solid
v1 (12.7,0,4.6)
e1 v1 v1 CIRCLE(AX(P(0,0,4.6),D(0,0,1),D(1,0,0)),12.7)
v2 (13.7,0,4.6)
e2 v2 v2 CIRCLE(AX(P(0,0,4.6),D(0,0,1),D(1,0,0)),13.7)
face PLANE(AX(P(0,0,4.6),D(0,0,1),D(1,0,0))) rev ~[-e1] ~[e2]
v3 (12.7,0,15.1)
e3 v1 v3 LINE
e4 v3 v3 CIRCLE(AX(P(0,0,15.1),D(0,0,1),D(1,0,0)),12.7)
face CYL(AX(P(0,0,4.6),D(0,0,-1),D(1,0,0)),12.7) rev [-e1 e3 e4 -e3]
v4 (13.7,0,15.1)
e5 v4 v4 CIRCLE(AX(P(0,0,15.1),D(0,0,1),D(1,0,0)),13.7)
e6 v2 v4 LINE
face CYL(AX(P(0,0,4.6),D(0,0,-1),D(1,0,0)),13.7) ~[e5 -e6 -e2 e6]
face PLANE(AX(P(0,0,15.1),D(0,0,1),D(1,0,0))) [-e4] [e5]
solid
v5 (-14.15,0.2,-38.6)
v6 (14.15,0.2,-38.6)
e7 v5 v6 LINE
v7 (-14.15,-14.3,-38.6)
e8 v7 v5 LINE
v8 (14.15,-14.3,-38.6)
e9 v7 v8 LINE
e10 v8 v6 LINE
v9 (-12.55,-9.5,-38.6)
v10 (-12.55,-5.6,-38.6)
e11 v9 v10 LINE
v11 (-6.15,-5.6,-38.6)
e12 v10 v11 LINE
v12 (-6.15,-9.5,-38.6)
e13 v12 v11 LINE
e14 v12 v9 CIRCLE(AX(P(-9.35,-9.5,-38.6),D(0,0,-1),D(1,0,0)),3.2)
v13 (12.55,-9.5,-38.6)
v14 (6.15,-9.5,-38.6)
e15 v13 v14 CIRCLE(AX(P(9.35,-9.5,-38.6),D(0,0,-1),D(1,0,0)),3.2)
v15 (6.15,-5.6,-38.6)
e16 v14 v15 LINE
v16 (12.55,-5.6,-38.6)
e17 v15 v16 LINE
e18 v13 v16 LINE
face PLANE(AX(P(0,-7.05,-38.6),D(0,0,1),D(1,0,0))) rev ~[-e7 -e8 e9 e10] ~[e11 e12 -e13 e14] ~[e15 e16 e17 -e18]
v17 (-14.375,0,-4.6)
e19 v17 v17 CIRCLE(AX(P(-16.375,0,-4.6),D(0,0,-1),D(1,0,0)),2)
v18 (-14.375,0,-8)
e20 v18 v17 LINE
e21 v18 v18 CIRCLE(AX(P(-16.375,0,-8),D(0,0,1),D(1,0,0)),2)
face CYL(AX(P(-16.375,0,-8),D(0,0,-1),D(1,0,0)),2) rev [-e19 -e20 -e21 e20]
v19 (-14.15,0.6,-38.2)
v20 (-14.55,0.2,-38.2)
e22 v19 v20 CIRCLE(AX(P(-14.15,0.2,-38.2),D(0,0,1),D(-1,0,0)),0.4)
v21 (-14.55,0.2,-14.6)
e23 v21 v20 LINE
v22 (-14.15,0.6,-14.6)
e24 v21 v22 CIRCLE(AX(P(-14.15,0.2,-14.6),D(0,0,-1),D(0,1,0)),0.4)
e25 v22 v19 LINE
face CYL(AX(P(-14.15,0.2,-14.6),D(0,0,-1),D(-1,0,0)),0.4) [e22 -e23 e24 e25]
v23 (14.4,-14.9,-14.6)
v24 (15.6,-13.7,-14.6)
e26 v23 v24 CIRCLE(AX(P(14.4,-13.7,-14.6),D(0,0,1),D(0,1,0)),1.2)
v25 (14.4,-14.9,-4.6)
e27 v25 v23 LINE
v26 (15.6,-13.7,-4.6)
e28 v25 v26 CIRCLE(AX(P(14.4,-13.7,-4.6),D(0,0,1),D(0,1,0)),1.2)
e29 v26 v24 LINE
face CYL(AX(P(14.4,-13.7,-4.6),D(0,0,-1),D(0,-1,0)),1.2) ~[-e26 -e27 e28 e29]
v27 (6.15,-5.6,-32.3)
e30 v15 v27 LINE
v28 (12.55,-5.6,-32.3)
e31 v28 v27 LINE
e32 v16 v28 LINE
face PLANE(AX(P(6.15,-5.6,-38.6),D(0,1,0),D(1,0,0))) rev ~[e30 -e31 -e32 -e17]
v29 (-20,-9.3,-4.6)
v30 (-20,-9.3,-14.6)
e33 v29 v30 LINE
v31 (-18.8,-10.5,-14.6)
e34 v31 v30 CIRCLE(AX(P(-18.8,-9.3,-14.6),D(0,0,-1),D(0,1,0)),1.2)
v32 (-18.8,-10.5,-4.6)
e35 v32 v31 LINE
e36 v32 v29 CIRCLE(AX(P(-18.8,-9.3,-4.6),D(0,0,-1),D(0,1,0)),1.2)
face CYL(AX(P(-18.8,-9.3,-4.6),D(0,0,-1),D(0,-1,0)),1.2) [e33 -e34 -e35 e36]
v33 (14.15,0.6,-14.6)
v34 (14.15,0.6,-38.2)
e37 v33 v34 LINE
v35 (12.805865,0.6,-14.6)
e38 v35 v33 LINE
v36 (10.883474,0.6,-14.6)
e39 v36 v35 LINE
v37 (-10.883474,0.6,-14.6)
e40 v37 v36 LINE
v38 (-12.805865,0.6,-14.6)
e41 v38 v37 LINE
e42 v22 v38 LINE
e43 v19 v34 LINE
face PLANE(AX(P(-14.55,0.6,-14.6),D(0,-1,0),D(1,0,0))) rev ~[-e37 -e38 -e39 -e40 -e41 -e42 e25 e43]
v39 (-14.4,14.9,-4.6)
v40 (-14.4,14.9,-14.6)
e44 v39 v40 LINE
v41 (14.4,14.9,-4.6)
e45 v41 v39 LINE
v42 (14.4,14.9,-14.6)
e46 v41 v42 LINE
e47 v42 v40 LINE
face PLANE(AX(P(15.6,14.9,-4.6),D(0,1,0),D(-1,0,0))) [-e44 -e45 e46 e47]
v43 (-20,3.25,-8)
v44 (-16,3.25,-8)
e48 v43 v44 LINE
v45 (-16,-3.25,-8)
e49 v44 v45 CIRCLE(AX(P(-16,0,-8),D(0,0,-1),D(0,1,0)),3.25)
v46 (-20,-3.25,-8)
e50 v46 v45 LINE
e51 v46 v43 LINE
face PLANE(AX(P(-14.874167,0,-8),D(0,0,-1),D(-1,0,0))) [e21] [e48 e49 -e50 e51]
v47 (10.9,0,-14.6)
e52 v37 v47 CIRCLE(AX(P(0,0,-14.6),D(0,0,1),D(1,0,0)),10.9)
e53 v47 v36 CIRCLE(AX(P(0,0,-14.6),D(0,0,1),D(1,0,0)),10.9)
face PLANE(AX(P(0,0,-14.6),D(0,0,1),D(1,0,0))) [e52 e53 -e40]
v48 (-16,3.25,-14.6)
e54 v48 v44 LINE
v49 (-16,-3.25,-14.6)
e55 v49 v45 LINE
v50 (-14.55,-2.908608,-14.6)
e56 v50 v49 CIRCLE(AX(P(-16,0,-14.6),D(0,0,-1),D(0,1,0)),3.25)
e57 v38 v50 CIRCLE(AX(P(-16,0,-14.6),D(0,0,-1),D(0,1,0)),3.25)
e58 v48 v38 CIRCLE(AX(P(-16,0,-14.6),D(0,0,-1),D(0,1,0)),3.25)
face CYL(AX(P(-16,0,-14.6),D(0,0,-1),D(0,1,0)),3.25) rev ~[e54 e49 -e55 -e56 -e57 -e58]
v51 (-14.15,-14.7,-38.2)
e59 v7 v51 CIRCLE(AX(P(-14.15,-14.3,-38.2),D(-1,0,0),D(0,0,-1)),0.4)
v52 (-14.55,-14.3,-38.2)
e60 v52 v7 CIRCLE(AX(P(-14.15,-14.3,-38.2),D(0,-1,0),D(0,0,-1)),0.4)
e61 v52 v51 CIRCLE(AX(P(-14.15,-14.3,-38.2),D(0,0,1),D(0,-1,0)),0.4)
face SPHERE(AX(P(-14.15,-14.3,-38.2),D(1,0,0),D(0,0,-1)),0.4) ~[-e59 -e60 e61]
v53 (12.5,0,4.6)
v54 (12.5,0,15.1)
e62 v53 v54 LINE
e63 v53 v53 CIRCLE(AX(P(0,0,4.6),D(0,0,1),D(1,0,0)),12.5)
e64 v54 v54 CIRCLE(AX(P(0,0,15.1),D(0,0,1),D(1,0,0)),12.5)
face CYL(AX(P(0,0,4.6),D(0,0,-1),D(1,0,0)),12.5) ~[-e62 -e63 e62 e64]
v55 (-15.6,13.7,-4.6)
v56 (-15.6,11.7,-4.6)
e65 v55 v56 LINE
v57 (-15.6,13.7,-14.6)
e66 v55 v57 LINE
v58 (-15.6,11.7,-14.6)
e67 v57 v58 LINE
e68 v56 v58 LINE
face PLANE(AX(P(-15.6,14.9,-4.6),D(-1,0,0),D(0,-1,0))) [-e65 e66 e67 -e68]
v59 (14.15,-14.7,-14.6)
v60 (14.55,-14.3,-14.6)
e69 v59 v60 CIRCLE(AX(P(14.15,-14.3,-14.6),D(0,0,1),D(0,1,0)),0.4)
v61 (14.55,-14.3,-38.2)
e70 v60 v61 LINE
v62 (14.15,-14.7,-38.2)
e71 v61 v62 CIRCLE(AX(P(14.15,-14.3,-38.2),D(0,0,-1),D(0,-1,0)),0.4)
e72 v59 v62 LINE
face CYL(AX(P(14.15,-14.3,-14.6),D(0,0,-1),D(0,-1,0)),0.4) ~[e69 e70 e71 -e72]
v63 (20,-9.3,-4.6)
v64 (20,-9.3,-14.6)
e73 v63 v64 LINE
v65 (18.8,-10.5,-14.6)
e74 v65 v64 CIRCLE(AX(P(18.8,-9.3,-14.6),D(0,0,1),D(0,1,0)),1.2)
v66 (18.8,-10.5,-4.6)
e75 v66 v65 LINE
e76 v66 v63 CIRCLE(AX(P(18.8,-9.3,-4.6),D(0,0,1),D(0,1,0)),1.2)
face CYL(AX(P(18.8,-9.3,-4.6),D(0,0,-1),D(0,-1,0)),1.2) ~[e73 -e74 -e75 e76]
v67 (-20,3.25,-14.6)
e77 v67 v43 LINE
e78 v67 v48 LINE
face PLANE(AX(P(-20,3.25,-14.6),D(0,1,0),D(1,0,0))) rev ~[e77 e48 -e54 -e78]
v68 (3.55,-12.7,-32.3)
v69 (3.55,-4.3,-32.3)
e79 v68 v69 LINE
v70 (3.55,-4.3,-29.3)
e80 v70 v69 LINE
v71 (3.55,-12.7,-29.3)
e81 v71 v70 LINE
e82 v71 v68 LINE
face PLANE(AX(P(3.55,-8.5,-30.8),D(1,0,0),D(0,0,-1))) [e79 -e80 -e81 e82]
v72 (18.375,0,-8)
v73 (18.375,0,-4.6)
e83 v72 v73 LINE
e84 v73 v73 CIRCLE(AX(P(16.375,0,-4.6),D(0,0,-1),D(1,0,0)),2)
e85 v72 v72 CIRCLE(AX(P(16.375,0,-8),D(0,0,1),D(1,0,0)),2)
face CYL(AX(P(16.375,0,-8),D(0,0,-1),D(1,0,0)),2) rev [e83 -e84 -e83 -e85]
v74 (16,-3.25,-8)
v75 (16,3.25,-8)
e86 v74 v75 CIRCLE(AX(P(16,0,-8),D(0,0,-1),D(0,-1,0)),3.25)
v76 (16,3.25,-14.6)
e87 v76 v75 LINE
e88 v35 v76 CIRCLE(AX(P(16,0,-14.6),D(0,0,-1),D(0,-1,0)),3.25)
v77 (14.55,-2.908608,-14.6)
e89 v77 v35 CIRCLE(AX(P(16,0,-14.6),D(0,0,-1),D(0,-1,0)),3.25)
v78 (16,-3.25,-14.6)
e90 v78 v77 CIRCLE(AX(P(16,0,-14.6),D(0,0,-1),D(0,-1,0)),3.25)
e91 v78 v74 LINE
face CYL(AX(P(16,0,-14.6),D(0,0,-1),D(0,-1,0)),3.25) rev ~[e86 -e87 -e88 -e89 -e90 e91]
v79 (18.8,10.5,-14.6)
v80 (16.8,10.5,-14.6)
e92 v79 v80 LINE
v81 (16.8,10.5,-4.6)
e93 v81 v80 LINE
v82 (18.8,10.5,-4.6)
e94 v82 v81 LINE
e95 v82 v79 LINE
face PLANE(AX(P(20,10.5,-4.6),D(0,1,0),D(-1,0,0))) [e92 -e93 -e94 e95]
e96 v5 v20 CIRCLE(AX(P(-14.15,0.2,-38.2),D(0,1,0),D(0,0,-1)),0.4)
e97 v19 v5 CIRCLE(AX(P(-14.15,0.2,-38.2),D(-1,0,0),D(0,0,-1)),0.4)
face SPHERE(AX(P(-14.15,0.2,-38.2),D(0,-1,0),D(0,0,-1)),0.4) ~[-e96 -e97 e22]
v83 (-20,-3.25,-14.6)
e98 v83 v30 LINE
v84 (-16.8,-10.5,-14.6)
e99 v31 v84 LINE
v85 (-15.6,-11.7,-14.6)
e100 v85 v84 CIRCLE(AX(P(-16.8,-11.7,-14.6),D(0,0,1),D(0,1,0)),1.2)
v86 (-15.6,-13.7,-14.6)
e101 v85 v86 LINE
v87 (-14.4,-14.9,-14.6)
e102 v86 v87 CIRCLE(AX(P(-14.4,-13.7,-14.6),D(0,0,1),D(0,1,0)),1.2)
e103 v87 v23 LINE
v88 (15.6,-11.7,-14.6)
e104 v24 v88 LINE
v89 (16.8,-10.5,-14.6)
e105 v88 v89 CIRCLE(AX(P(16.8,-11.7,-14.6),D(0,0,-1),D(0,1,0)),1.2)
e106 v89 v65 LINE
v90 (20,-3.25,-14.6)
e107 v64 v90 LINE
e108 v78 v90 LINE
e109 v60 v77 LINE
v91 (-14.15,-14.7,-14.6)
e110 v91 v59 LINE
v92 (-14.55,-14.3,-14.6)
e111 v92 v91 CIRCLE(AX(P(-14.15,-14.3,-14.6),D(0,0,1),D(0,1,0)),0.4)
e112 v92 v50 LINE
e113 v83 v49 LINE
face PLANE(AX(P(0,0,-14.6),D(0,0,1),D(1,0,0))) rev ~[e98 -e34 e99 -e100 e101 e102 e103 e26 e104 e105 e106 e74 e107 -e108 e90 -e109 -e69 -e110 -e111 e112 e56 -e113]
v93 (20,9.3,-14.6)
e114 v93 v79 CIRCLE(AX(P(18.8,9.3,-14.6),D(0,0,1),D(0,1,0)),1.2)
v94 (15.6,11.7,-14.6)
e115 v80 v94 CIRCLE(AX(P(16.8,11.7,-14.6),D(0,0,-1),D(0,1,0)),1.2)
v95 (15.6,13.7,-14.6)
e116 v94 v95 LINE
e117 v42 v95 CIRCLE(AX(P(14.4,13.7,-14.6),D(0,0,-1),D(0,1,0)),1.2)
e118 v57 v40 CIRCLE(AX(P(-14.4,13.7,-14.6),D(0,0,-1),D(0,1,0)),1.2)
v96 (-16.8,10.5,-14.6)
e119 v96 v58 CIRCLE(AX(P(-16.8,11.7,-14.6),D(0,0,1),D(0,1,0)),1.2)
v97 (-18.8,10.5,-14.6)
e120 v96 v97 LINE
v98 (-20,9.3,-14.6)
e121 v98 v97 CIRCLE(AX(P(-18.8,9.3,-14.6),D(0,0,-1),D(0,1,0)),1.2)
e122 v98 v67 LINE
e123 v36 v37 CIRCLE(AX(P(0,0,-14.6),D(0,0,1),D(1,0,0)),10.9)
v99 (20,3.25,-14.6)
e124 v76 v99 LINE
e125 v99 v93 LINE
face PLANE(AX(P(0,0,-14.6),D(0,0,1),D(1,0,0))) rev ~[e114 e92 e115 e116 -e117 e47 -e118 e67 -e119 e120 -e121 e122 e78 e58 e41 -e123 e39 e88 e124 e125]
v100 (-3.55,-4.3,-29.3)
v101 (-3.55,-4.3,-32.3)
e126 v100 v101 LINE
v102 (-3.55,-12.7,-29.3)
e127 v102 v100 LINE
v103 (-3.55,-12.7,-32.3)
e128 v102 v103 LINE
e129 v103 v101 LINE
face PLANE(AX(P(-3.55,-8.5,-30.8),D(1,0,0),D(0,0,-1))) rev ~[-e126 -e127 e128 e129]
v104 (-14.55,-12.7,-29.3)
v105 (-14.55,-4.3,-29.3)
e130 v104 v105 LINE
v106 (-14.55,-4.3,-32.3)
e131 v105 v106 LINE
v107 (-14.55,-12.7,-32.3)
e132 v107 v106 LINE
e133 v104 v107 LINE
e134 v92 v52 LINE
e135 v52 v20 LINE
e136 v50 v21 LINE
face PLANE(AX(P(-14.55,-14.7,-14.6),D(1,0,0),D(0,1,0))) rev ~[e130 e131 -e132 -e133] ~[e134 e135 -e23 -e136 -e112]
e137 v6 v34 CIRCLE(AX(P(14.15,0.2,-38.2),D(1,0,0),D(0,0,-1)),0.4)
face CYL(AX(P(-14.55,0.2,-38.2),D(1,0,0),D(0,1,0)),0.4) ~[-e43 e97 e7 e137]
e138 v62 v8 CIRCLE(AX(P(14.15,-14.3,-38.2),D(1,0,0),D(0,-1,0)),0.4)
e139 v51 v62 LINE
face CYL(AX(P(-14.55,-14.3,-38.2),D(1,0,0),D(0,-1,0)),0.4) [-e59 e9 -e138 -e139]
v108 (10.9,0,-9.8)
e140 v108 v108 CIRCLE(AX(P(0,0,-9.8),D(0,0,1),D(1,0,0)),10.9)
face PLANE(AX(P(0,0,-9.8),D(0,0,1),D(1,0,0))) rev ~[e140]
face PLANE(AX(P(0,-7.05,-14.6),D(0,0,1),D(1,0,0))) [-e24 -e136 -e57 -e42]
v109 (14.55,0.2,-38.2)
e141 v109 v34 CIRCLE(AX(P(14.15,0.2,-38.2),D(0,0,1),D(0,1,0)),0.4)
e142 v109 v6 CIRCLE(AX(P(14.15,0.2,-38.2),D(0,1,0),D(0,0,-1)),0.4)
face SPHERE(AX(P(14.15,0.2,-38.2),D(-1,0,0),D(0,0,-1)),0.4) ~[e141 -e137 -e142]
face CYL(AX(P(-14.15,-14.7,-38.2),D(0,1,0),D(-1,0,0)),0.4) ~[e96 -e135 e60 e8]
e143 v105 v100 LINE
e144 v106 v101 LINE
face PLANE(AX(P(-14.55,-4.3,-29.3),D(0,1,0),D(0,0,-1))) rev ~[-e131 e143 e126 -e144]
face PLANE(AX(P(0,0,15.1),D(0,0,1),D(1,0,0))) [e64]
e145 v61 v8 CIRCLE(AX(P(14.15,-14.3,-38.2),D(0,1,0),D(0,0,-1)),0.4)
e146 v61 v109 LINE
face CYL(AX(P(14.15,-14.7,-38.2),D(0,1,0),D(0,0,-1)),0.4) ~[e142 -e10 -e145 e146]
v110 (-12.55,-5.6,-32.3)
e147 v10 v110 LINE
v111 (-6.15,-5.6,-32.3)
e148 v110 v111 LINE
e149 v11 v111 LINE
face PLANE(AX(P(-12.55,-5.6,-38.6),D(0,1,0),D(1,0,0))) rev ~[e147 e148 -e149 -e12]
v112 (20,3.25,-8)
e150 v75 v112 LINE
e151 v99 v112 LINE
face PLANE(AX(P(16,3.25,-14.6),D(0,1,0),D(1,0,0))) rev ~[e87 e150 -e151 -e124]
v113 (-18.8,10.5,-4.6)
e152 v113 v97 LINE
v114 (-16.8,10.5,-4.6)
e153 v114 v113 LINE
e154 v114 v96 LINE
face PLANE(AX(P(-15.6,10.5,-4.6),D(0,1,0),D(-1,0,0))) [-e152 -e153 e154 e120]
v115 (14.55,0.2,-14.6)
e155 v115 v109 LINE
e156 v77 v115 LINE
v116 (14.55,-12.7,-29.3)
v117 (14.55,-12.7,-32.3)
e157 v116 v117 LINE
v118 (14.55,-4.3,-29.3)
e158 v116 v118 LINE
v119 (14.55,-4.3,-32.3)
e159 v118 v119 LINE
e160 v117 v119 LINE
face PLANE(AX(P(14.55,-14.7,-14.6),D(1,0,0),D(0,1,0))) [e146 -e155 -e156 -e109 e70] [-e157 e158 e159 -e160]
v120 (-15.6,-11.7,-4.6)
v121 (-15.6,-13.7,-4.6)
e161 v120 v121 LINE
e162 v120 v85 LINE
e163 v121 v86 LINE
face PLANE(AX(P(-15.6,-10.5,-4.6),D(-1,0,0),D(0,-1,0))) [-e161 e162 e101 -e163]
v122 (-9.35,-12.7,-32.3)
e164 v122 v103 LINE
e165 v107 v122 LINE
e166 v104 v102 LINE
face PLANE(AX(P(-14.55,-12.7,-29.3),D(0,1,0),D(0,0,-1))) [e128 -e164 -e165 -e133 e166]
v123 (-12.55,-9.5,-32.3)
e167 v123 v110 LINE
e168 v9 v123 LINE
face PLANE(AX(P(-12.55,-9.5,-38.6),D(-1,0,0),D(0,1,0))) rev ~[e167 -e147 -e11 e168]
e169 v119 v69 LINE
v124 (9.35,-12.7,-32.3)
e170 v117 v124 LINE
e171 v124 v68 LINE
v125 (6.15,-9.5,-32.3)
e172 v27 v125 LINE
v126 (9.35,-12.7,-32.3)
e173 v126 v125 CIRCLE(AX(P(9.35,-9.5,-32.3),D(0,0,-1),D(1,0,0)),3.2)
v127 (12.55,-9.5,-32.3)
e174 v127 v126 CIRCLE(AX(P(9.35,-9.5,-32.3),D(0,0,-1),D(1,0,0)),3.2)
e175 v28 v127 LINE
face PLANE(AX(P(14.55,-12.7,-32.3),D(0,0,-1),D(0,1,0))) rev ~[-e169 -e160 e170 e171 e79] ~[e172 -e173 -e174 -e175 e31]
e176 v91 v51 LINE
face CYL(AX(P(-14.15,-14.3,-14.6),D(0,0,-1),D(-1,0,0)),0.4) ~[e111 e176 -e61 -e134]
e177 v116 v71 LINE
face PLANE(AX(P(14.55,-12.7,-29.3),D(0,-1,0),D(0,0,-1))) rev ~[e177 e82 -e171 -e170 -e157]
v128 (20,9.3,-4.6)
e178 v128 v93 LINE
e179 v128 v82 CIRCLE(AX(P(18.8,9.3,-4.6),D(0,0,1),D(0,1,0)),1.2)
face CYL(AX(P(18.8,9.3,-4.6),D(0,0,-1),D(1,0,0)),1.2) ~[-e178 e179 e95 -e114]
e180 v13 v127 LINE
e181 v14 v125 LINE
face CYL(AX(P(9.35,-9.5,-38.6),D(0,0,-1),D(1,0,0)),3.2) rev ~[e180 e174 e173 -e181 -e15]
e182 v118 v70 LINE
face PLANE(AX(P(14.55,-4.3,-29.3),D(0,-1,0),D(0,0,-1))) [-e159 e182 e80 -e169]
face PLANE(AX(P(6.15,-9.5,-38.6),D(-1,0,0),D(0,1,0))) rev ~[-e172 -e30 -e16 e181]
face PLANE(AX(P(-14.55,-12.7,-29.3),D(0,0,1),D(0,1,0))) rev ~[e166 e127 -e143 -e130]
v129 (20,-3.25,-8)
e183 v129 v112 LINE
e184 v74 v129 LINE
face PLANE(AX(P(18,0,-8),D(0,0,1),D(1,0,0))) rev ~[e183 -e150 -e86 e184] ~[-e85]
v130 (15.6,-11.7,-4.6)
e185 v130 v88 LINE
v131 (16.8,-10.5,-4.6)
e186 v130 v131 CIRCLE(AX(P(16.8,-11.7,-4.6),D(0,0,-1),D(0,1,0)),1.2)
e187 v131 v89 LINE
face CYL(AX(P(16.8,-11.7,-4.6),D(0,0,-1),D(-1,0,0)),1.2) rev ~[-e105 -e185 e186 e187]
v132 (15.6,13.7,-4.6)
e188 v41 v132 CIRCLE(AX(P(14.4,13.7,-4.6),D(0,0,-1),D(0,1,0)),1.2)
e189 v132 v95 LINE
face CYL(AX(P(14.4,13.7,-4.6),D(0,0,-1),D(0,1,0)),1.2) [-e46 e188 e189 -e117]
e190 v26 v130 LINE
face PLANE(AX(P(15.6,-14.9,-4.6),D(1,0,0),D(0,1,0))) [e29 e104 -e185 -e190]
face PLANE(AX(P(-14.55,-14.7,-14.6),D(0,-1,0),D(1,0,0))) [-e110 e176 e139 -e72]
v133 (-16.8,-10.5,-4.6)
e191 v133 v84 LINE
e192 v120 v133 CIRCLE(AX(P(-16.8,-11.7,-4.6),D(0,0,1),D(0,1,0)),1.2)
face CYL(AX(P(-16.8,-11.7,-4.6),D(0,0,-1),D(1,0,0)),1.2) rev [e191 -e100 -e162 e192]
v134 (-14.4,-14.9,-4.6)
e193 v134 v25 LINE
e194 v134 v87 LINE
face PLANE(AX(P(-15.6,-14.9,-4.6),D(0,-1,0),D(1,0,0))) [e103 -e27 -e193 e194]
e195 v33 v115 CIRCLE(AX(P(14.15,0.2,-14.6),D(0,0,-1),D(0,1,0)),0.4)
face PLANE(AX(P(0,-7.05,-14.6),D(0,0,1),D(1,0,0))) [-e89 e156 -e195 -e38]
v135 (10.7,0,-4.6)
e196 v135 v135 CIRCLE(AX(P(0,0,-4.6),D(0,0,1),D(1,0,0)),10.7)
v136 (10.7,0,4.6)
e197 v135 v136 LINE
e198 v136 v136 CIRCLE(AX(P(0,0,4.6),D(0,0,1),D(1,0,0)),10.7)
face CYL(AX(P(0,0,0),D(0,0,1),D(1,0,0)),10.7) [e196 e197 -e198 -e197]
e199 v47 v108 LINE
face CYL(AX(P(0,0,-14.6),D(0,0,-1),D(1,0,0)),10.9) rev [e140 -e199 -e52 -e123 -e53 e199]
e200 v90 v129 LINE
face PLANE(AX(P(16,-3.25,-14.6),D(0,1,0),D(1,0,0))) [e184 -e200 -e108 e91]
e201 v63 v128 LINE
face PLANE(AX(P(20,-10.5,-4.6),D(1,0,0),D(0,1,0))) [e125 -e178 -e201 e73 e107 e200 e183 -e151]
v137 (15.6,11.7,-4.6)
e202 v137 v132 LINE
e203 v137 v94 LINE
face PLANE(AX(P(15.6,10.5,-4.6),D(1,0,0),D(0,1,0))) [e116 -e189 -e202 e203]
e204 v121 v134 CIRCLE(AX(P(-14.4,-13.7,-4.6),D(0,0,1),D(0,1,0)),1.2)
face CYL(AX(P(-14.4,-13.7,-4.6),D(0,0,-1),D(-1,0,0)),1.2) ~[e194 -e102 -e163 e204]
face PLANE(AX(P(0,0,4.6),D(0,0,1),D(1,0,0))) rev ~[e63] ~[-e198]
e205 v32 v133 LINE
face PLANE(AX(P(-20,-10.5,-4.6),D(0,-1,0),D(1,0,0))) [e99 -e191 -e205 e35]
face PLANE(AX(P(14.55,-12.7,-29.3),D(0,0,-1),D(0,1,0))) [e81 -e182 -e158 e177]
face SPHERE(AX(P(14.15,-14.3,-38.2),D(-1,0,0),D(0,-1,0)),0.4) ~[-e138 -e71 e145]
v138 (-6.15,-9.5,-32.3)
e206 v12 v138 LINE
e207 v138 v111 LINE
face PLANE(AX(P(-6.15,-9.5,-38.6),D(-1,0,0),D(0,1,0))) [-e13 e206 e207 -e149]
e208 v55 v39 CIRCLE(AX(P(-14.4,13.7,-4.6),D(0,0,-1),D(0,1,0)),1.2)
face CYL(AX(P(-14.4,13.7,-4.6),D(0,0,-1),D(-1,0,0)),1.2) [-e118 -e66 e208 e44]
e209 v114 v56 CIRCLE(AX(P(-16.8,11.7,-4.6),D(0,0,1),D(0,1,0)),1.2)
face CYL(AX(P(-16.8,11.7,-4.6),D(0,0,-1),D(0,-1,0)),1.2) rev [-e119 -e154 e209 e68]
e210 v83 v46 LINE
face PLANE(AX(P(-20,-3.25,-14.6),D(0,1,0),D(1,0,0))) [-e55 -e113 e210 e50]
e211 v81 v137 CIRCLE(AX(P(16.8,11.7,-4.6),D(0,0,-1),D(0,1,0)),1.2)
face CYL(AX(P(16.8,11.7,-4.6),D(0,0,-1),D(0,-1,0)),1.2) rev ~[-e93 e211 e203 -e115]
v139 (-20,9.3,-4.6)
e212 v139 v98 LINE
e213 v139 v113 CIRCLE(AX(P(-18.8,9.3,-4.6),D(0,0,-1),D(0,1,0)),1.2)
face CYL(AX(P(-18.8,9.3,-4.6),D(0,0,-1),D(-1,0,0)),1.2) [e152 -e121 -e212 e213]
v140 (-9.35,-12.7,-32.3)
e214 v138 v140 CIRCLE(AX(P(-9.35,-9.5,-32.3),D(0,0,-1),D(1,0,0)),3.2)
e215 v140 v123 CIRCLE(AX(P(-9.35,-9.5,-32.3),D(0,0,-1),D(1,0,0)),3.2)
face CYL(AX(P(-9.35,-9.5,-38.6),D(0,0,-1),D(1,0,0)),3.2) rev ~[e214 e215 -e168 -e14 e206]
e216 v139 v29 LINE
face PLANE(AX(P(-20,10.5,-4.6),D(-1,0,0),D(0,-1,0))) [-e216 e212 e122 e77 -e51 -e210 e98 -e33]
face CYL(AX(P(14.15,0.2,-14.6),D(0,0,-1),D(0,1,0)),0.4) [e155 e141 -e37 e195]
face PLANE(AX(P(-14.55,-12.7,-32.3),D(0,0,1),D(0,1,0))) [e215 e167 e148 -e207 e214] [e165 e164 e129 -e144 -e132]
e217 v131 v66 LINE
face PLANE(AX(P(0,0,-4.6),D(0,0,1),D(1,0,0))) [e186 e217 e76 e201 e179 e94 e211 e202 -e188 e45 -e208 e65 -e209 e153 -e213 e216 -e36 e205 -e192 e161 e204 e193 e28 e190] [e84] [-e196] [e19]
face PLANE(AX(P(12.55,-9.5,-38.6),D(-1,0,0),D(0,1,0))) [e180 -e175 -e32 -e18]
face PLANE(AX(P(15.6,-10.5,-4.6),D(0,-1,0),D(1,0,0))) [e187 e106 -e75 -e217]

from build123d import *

# Parameters (mm, degrees)
SKETCH1_R           = 10.7
BOSS_EXTRUDE1_DEPTH = 4.6
BOSS_EXTRUDE2_START = 4.6
SKETCH2_R           = 13.7
SKETCH2_R_2         = 12.7
BOSS_EXTRUDE2_DEPTH = 10.5
BOSS_EXTRUDE3_START = 4.6
SKETCH3_R           = 12.5
BOSS_EXTRUDE3_DEPTH = 10.5
BOSS_EXTRUDE4_START = -4.6
BOSS_EXTRUDE4_DEPTH = 10
FILLET1_R           = 1.2
CUT_EXTRUDE1_START  = -14.6
SKETCH5_W           = 4
SKETCH5_H           = 6.5
CUT_EXTRUDE1_DEPTH  = 6.6
CUT_EXTRUDE2_START  = -8
SKETCH6_R           = 2
CUT_EXTRUDE2_DEPTH  = 12.6
BOSS_EXTRUDE5_START = -14.6
SKETCH7_W           = 29.1
SKETCH7_H           = 15.3
BOSS_EXTRUDE5_DEPTH = 24
FILLET2_R           = 0.4
CUT_EXTRUDE3_START  = -14.6
SKETCH8_R           = 10.9
CUT_EXTRUDE3_DEPTH  = 4.8
CUT_EXTRUDE4_START  = -38.6
SKETCH9_W           = 6.4
SKETCH9_H           = 3.9
CUT_EXTRUDE4_DEPTH  = 9
CUT_EXTRUDE5_START  = -14.55
SKETCH10_W          = 3
SKETCH10_H          = 8.4
CUT_EXTRUDE5_DEPTH  = 11
CUT_EXTRUDE6_START  = 14.55
SKETCH11_W          = 3
SKETCH11_H          = 8.4
CUT_EXTRUDE6_DEPTH  = 11


with BuildPart() as part:
    # Sketch1 → Boss-Extrude1 (new body, symmetric)
    with BuildSketch(Plane.XY):
        Circle(SKETCH1_R)
    extrude(amount=BOSS_EXTRUDE1_DEPTH, both=True)

    # Sketch3 → Boss-Extrude3 (add)
    with BuildSketch(Plane.XY.offset(BOSS_EXTRUDE3_START)):
        Circle(SKETCH3_R)
    extrude(amount=BOSS_EXTRUDE3_DEPTH)

    # Sketch4 → Boss-Extrude4 (add)
    with BuildSketch(Plane.XY.offset(BOSS_EXTRUDE4_START)):
        Polygon((-15.6, -10.5), (-15.6, -14.9), (15.6, -14.9), (15.6, -10.5), (20, -10.5), (20, 10.5), (15.6, 10.5), (15.6, 14.9), (-15.6, 14.9), (-15.6, 10.5), (-20, 10.5), (-20, -10.5), align=None)
    extrude(amount=-BOSS_EXTRUDE4_DEPTH)

    # Fillet1
    fillet1_edges = [part.edges().sort_by_distance(p)[0] for p in [
        (15.6, 10.5, -9.6),
        (20, 10.5, -9.6),
        (20, -10.5, -9.6),
        (15.6, -10.5, -9.6),
        (15.6, -14.9, -9.6),
        (-15.6, -14.9, -9.6),
        (-15.6, -10.5, -9.6),
        (-20, -10.5, -9.6),
        (-20, 10.5, -9.6),
        (-15.6, 10.5, -9.6),
        (-15.6, 14.9, -9.6),
        (15.6, 14.9, -9.6),
    ]]
    fillet(fillet1_edges, radius=FILLET1_R)

    # Sketch5 → Cut-Extrude1 (cut)
    with BuildSketch(Plane.XY.offset(CUT_EXTRUDE1_START)):
        with Locations((18, 0)):
            Rectangle(SKETCH5_W, SKETCH5_H)
        with BuildLine():
            Line((16, 3.25), (16, -3.25))
            ThreePointArc((16, -3.25), (12.75, 0), (16, 3.25))
        make_face()
        with BuildLine():
            ThreePointArc((-16, 3.25), (-12.75, 0), (-16, -3.25))
            Line((-16, -3.25), (-16, 3.25))
        make_face()
        with Locations((-18, 0)):
            Rectangle(SKETCH5_W, SKETCH5_H)
    extrude(amount=CUT_EXTRUDE1_DEPTH, mode=Mode.SUBTRACT)

    # Sketch6 → Cut-Extrude2 (cut)
    with BuildSketch(Plane.XY.offset(CUT_EXTRUDE2_START)):
        with Locations((16.375, 0)):
            Circle(SKETCH6_R)
        with Locations((-16.375, 0)):
            Circle(SKETCH6_R)
    extrude(amount=CUT_EXTRUDE2_DEPTH, mode=Mode.SUBTRACT)

    # Sketch7 → Boss-Extrude5 (add)
    with BuildSketch(Plane.XY.offset(BOSS_EXTRUDE5_START)):
        with Locations((0, -7.05)):
            Rectangle(SKETCH7_W, SKETCH7_H)
    extrude(amount=-BOSS_EXTRUDE5_DEPTH)

    # Fillet2
    fillet2_edges = [part.edges().sort_by_distance(p)[0] for p in [
        (0, -14.7, -38.6),
        (14.55, -14.7, -26.6),
        (-14.55, -7.05, -38.6),
        (-14.55, -14.7, -26.6),
        (0, 0.6, -38.6),
        (-14.55, 0.6, -26.6),
        (14.55, -7.05, -38.6),
        (14.55, 0.6, -26.6),
    ]]
    fillet(fillet2_edges, radius=FILLET2_R)

    # Sketch8 → Cut-Extrude3 (cut)
    with BuildSketch(Plane.XY.offset(CUT_EXTRUDE3_START)):
        Circle(SKETCH8_R)
    extrude(amount=CUT_EXTRUDE3_DEPTH, mode=Mode.SUBTRACT)

    # Sketch9 → Cut-Extrude4 (cut)
    with BuildSketch(Plane.XY.offset(CUT_EXTRUDE4_START)):
        with Locations((9.35, -7.55)):
            Rectangle(SKETCH9_W, SKETCH9_H)
        with BuildLine():
            ThreePointArc((12.55, -9.5), (9.35, -12.7), (6.15, -9.5))
            Line((6.15, -9.5), (12.55, -9.5))
        make_face()
        with Locations((-9.35, -7.55)):
            Rectangle(SKETCH9_W, SKETCH9_H)
        with BuildLine():
            ThreePointArc((-6.15, -9.5), (-9.35, -12.7), (-12.55, -9.5))
            Line((-12.55, -9.5), (-6.15, -9.5))
        make_face()
    extrude(amount=CUT_EXTRUDE4_DEPTH, mode=Mode.SUBTRACT)

    # Sketch10 → Cut-Extrude5 (cut)
    with BuildSketch(Plane(origin=(0, 0, 0), x_dir=(0, 0, -1), z_dir=(1, 0, 0)).offset(CUT_EXTRUDE5_START)):
        with Locations((30.8, -8.5)):
            Rectangle(SKETCH10_W, SKETCH10_H)
    extrude(amount=CUT_EXTRUDE5_DEPTH, mode=Mode.SUBTRACT)

    # Sketch11 → Cut-Extrude6 (cut)
    with BuildSketch(Plane(origin=(0, 0, 0), x_dir=(0, 0, -1), z_dir=(1, 0, 0)).offset(CUT_EXTRUDE6_START)):
        with Locations((30.8, -8.5)):
            Rectangle(SKETCH11_W, SKETCH11_H)
    extrude(amount=-CUT_EXTRUDE6_DEPTH, mode=Mode.SUBTRACT)


with BuildPart() as body_2:
    # Sketch2 → Boss-Extrude2 (new body)
    with BuildSketch(Plane.XY.offset(BOSS_EXTRUDE2_START)):
        Circle(SKETCH2_R)
        Circle(SKETCH2_R_2, mode=Mode.SUBTRACT)
    extrude(amount=BOSS_EXTRUDE2_DEPTH)


solid = Compound([part.part, body_2.part])
